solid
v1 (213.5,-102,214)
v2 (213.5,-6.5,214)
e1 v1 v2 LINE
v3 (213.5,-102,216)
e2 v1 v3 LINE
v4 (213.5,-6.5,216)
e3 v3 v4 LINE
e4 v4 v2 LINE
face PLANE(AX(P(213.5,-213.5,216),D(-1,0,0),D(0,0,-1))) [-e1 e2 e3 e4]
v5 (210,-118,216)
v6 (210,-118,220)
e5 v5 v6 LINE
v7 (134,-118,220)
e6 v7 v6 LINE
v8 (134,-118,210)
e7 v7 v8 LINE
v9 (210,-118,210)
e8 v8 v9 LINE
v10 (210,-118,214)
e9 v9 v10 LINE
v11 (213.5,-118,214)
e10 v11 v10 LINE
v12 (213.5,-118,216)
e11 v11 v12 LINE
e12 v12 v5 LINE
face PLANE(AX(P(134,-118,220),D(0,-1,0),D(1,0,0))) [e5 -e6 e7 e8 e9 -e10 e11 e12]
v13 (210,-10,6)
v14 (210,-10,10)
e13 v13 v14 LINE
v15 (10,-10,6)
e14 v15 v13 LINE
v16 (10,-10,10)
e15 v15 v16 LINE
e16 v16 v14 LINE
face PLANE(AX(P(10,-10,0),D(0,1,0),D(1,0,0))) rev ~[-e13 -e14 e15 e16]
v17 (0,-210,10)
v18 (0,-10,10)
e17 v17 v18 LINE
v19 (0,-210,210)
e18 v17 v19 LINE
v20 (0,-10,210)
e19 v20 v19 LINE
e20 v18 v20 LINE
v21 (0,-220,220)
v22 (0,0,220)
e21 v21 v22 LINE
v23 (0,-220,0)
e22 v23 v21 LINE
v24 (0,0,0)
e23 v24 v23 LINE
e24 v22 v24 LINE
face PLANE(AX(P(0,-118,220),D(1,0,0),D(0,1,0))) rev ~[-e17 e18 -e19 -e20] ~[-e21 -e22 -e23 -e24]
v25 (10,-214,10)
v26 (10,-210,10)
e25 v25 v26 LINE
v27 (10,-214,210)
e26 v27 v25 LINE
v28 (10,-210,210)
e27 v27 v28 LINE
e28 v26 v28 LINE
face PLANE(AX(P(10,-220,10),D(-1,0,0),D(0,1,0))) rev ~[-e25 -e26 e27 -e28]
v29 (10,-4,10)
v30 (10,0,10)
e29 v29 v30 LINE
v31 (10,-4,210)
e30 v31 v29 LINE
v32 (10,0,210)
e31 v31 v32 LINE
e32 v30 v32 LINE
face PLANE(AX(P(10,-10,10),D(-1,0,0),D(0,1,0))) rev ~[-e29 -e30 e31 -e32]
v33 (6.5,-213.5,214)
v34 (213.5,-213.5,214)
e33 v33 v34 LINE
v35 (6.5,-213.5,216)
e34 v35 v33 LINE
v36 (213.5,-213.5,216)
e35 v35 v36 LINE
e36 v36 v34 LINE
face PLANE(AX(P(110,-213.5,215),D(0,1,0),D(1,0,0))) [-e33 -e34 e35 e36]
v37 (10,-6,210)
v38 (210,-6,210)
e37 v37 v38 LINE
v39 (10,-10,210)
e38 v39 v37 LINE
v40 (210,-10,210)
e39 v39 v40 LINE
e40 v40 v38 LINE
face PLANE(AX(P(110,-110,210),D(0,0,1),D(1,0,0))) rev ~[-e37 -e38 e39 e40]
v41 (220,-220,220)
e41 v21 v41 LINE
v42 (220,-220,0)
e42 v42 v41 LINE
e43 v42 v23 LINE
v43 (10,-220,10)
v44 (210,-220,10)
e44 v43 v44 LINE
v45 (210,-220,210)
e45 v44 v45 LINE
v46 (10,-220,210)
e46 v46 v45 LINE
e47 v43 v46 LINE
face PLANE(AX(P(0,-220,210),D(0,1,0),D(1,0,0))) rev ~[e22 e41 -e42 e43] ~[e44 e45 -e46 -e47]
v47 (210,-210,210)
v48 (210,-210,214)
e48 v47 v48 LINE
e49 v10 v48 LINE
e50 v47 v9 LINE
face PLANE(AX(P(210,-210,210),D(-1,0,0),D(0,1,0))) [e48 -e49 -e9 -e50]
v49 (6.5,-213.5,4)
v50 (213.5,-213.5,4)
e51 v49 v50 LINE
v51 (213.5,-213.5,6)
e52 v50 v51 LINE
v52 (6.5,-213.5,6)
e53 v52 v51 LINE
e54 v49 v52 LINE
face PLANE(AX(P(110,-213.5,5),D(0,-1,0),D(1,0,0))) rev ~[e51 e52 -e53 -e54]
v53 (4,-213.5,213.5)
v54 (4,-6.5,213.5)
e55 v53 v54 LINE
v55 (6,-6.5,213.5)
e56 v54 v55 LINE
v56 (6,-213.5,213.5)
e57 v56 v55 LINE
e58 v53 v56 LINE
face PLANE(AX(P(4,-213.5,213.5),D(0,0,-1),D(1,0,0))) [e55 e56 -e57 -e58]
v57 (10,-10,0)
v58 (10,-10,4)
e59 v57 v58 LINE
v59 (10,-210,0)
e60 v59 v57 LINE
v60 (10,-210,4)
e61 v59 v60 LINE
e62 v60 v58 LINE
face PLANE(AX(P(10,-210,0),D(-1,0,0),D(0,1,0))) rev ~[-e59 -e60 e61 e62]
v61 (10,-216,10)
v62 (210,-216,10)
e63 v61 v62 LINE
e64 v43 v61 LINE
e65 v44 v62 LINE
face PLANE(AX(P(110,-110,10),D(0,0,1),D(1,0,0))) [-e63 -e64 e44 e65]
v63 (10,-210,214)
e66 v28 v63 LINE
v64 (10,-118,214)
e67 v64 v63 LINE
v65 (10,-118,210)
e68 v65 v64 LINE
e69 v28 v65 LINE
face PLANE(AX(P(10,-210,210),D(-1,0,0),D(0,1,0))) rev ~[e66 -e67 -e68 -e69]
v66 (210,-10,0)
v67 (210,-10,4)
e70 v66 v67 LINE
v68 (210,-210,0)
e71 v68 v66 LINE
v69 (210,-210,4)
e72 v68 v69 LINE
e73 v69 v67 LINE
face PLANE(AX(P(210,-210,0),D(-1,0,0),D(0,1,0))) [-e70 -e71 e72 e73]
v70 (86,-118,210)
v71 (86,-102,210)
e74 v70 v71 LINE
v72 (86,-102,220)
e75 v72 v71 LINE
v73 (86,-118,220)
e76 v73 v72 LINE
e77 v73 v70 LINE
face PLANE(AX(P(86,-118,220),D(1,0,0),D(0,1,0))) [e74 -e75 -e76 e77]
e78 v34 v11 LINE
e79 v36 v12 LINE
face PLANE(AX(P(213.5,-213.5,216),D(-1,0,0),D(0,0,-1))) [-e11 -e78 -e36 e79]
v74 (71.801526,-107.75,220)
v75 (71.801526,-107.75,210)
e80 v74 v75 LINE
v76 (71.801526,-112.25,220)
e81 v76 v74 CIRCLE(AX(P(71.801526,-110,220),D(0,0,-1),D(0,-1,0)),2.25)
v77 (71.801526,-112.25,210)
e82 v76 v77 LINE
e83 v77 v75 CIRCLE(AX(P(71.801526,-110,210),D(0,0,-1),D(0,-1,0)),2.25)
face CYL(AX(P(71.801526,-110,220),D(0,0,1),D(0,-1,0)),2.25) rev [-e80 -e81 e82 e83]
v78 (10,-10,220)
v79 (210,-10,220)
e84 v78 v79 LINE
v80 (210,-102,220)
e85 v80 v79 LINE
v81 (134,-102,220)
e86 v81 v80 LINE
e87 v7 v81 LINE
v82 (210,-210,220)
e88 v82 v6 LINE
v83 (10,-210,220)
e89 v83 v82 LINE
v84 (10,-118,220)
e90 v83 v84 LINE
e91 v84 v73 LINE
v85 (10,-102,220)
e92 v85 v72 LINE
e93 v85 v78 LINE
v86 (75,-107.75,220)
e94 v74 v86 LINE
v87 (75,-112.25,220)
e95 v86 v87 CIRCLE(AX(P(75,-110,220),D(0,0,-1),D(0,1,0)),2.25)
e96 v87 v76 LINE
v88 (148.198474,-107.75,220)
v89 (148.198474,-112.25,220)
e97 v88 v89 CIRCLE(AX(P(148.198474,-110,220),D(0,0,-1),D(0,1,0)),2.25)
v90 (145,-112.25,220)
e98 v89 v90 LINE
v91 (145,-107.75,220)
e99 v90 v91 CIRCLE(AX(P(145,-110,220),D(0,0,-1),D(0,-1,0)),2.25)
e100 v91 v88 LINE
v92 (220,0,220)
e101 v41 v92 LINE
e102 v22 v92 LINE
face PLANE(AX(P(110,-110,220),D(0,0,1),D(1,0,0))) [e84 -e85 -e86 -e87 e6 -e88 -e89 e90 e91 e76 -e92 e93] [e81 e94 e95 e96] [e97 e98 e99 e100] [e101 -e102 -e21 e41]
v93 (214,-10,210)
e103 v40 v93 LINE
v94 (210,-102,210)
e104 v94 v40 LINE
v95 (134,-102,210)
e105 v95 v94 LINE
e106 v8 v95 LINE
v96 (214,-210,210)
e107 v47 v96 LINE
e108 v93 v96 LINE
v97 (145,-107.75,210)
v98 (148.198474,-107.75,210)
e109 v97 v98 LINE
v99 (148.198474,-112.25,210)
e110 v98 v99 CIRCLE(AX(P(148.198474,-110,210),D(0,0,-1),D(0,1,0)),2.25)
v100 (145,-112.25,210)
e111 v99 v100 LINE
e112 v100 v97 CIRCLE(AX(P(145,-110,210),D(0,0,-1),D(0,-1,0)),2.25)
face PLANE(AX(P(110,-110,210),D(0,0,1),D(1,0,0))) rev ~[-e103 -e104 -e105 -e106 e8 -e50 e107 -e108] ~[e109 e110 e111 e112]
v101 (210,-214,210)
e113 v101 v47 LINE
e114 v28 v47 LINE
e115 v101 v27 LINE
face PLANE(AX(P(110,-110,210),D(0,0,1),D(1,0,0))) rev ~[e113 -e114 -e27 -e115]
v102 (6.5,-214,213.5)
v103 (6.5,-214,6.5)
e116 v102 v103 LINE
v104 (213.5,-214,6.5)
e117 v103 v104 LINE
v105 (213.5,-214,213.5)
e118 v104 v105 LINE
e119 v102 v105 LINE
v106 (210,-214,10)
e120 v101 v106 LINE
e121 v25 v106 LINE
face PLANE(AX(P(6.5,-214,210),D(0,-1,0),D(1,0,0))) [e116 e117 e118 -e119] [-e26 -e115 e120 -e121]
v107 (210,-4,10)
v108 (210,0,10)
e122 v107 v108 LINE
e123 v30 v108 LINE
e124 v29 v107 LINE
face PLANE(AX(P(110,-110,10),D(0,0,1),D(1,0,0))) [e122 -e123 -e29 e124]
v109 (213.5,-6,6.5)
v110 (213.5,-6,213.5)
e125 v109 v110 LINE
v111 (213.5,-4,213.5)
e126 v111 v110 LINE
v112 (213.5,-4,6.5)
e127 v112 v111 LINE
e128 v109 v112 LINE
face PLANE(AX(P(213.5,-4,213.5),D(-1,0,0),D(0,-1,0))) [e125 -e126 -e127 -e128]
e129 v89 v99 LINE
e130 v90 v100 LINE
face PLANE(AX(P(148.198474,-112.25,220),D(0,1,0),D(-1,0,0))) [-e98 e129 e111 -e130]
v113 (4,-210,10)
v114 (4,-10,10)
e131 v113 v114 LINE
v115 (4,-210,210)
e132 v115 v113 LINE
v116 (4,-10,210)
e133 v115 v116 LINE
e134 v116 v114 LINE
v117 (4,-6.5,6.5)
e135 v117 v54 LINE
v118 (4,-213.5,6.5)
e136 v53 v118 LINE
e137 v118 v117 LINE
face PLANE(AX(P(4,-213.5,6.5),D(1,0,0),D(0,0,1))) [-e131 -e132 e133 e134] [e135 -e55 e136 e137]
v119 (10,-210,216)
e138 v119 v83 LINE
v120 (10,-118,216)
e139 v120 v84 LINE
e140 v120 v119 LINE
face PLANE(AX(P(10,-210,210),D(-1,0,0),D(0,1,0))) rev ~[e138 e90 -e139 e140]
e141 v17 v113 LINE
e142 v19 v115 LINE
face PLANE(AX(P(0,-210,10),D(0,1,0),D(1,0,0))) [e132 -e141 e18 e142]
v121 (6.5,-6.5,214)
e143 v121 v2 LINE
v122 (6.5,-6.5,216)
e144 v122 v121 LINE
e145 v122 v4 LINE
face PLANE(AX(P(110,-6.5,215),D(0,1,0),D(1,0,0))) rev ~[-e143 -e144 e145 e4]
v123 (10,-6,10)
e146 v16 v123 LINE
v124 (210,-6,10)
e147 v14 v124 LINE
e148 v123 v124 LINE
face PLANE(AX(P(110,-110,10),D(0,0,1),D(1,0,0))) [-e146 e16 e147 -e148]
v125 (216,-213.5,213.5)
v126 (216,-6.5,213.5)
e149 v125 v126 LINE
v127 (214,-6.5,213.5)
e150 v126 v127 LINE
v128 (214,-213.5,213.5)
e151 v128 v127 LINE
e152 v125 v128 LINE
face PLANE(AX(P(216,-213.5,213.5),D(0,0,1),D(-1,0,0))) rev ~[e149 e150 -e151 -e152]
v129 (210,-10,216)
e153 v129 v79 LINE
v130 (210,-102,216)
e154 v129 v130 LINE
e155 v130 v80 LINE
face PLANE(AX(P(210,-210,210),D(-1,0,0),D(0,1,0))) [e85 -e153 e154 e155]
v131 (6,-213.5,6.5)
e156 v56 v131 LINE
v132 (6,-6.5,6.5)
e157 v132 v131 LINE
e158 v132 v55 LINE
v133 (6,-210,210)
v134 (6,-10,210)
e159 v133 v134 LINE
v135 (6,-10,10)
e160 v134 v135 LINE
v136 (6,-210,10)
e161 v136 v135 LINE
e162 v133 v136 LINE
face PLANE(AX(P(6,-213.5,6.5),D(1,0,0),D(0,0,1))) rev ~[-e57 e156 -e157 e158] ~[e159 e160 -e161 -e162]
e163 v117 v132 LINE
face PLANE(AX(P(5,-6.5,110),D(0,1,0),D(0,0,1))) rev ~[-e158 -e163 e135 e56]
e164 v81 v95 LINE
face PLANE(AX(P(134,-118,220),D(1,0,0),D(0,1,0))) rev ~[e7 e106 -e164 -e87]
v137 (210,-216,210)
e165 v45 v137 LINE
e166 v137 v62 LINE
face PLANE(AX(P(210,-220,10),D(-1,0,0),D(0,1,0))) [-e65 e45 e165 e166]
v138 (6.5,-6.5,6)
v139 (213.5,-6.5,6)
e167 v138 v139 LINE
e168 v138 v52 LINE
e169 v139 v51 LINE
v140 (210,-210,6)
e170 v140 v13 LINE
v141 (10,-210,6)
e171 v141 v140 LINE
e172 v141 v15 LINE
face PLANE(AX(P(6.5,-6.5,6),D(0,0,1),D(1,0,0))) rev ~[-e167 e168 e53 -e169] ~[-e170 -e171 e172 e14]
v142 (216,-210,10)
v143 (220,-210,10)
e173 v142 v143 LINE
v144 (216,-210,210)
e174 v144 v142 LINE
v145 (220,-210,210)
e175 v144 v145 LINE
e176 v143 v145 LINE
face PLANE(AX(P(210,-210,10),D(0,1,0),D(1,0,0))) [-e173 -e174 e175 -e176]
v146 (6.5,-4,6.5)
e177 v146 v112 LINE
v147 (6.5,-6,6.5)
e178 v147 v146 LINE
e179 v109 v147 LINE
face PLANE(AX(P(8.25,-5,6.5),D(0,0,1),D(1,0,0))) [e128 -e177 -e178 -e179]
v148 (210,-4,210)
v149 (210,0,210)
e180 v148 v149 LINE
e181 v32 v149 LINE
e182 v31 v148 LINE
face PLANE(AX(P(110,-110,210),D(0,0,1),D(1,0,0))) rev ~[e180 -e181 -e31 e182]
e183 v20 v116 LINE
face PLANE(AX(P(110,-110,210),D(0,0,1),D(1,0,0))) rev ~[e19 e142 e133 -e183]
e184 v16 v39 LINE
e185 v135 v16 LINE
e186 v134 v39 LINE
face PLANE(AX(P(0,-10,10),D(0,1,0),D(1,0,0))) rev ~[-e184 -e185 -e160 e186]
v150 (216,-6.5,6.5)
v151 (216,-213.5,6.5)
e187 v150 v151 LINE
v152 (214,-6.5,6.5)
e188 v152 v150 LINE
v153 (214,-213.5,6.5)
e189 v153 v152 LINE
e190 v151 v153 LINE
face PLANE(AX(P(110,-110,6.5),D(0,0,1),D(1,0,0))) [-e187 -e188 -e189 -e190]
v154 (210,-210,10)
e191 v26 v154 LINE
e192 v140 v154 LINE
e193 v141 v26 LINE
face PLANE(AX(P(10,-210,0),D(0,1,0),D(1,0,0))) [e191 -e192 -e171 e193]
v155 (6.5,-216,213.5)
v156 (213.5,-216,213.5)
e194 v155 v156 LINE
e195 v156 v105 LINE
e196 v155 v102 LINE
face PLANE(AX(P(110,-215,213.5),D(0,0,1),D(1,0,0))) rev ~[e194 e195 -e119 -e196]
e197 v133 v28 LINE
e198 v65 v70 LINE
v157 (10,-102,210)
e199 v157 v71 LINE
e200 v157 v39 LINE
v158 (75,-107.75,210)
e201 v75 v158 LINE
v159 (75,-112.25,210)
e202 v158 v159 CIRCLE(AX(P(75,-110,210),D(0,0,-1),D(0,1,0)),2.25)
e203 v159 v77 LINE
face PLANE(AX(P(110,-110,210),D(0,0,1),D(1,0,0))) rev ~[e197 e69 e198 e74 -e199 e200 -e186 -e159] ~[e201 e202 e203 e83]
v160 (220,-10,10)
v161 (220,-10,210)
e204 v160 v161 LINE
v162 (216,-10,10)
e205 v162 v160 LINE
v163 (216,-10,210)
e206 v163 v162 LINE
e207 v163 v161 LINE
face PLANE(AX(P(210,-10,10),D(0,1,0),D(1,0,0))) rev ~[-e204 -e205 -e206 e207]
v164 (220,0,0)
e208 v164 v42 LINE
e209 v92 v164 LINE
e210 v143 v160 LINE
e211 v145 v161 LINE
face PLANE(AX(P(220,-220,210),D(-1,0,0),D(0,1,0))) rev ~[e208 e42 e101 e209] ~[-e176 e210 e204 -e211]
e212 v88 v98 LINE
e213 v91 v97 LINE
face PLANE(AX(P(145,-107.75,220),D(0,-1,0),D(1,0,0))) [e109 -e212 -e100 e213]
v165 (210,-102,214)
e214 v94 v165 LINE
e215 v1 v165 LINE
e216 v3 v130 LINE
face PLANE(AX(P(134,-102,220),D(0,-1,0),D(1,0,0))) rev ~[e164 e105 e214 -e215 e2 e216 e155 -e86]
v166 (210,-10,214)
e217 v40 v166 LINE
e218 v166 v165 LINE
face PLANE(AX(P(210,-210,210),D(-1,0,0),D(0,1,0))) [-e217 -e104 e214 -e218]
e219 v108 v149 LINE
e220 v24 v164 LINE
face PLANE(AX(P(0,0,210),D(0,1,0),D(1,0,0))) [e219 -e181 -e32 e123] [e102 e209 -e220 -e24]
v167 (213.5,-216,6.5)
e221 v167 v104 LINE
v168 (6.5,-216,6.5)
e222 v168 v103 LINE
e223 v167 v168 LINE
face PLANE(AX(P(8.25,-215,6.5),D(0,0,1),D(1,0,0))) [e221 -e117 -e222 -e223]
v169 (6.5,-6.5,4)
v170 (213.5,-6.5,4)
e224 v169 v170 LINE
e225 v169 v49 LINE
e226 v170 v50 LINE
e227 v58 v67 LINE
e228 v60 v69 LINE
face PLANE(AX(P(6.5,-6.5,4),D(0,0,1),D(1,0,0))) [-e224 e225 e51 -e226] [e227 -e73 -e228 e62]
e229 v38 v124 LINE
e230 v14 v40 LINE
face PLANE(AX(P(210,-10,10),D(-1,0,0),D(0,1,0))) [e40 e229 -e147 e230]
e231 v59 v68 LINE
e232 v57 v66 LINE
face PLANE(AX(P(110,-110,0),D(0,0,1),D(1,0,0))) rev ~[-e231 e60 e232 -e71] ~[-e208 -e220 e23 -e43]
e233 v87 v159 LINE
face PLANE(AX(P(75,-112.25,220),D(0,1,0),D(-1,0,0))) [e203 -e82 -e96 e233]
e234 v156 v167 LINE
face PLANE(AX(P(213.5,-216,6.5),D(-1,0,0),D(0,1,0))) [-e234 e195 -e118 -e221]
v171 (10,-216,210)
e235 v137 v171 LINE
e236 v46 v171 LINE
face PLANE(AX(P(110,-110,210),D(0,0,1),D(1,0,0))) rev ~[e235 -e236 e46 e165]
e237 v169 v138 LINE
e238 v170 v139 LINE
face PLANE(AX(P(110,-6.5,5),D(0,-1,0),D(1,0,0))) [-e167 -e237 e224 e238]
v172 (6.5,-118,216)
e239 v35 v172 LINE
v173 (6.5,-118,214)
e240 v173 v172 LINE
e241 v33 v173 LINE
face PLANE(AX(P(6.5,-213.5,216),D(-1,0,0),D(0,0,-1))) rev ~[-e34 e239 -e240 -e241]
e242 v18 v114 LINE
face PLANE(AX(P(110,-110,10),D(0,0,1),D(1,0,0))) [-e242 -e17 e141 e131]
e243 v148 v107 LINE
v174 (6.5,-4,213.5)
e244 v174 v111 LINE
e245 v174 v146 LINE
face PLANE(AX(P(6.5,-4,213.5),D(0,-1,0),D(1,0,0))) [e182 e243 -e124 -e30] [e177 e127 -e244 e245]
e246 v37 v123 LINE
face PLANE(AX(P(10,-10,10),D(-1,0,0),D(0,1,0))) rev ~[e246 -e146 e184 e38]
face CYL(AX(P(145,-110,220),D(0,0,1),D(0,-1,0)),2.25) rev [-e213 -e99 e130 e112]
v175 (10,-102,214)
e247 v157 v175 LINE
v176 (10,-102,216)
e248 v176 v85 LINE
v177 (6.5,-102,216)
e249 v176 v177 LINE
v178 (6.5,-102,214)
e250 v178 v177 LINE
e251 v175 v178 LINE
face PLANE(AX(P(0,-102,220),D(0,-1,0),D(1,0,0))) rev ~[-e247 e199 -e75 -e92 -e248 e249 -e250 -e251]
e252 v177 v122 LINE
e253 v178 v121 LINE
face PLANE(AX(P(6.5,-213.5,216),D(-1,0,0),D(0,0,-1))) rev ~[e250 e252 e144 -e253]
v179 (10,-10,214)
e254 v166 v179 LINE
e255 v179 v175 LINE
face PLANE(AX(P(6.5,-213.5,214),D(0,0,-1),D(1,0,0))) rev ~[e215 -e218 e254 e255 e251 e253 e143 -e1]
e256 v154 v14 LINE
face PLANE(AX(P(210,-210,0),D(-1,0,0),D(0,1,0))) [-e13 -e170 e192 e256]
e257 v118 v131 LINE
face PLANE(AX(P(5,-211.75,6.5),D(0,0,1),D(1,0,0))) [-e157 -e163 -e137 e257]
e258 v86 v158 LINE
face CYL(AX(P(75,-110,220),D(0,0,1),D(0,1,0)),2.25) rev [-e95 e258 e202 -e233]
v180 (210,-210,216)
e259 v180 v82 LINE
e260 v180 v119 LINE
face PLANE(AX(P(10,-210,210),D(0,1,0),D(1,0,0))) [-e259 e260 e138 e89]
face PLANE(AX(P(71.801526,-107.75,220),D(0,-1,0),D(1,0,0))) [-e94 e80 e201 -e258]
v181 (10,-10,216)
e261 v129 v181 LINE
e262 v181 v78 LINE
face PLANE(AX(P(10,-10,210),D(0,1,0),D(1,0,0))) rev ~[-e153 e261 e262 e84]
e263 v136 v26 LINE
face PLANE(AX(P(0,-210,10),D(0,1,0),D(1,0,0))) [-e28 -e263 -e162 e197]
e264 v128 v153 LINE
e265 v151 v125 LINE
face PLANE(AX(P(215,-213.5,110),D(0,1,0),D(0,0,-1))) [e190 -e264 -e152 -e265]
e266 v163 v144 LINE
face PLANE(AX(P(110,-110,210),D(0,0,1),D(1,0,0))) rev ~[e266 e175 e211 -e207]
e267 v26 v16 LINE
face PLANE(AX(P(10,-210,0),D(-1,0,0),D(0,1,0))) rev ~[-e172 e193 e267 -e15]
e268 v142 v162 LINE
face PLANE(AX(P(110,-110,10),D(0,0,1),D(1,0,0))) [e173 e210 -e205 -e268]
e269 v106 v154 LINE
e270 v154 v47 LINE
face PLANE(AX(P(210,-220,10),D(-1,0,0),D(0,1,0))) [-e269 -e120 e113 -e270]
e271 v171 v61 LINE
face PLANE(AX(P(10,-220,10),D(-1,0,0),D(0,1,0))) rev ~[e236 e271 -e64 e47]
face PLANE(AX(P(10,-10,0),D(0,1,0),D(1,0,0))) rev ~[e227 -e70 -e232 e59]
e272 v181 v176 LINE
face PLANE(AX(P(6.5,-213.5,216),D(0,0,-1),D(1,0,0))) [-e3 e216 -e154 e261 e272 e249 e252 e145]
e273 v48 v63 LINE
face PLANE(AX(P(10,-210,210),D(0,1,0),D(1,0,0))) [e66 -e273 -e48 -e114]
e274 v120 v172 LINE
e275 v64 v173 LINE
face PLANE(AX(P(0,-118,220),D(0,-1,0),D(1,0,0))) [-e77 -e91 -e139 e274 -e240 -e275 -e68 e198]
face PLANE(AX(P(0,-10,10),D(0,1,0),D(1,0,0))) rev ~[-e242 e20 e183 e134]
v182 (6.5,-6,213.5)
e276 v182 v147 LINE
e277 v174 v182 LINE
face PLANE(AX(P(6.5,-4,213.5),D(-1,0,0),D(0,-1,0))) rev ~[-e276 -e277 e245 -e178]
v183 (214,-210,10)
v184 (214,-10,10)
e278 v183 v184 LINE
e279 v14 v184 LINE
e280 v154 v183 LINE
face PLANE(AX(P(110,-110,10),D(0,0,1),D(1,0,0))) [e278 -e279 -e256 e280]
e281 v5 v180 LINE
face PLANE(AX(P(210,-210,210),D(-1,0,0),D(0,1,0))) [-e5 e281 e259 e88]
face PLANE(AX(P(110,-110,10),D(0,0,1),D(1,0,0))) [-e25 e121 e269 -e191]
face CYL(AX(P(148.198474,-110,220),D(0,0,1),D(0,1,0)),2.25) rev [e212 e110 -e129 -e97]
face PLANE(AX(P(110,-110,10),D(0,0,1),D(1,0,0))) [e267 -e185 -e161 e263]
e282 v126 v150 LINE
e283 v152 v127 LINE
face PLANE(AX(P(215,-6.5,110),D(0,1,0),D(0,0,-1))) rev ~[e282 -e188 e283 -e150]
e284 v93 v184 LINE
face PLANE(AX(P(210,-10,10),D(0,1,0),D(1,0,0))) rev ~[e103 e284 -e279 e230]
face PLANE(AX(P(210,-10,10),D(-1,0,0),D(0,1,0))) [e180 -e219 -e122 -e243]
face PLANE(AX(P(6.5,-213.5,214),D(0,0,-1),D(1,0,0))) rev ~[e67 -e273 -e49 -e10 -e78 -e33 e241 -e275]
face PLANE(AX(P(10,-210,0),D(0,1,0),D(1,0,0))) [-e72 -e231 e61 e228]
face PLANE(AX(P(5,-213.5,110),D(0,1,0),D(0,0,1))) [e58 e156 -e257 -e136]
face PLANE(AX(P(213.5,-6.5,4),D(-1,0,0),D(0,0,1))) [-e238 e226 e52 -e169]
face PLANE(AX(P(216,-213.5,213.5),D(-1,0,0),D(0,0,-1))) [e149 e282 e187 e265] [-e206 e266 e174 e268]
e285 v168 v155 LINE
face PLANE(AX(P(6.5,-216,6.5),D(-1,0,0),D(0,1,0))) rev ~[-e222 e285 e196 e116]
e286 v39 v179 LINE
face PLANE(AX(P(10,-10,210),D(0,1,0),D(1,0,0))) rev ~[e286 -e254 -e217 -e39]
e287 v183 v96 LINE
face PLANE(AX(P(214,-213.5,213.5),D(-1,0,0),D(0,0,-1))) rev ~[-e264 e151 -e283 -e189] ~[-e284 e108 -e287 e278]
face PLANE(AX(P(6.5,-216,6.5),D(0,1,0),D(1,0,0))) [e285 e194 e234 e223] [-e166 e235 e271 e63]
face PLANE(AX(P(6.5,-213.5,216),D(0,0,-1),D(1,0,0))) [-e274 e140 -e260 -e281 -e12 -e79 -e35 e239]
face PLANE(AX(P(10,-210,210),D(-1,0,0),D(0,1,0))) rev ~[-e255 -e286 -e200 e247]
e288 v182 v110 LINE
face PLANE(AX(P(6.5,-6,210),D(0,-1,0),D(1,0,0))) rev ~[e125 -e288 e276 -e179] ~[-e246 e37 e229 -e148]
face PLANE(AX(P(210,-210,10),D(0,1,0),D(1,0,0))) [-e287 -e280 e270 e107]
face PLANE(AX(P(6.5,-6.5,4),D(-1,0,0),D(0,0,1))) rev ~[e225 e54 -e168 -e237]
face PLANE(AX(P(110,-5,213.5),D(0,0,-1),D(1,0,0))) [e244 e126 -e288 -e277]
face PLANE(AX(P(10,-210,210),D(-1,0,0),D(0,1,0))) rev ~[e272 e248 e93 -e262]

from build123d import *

# Parameters (mm, degrees)
CROQUIS2_W                   = 220
CROQUIS2_H                   = 220
CROQUIS2_W_2                 = 200
CROQUIS2_H_2                 = 200
SALIENTE_EXTRUIR1_DEPTH      = 10
CROQUIS3_W                   = 212
CROQUIS3_H                   = 212
CROQUIS3_W_2                 = 210
CROQUIS3_H_2                 = 210
CROQUIS3_W_3                 = 208
CROQUIS3_H_3                 = 208
CORTAR_EXTRUIR1_DEPTH        = 3.5
CROQUIS4_W                   = 10
CROQUIS4_H                   = 10
SALIENTE_EXTRUIR2_DEPTH      = 200
SALIENTE_EXTRUIR2_DEPTH_BACK = 10
CROQUIS6_W                   = 3.5
CROQUIS6_H                   = 2
CROQUIS6_W_2                 = 2
CROQUIS6_H_2                 = 3.5
CROQUIS6_W_3                 = 1.99805467
CORTAR_EXTRUIR2_DEPTH        = 203.5
CROQUIS7_W                   = 220
CROQUIS7_H                   = 220
CROQUIS7_W_2                 = 200
CROQUIS7_H_2                 = 200
SALIENTE_EXTRUIR3_DEPTH      = 10
CORTAR_EXTRUIR3_START        = -3.5
CROQUIS8_W                   = 207
CROQUIS8_H                   = 2
CORTAR_EXTRUIR3_DEPTH        = 207
MATRIZC1_COUNT               = 4
CROQUIS9_W                   = 86
CROQUIS9_H                   = 16
BRAZOS_DEPTH                 = 10
MATRIZC2_COUNT               = 4


with BuildPart() as part:
    # Croquis2 → Saliente-Extruir1 (new body)
    with BuildSketch(Plane.XY):
        with Locations((110, -110)):
            Rectangle(CROQUIS2_W, CROQUIS2_H)
        with Locations((110, -110)):
            Rectangle(CROQUIS2_W_2, CROQUIS2_H_2, mode=Mode.SUBTRACT)
    extrude(amount=SALIENTE_EXTRUIR1_DEPTH)

    # Croquis3 → Cortar-Extruir1 (cut)
    with BuildSketch(Plane.XY.offset(10)):
        with Locations((110, -110)):
            Rectangle(CROQUIS3_W, CROQUIS3_H)
        with Locations((110, -110)):
            Rectangle(CROQUIS3_W_2, CROQUIS3_H_2, mode=Mode.SUBTRACT)
        with Locations((110, -110)):
            Rectangle(CROQUIS3_W_2, CROQUIS3_H_2)
        with Locations((110, -110)):
            Rectangle(CROQUIS3_W_3, CROQUIS3_H_3, mode=Mode.SUBTRACT)
    extrude(amount=-CORTAR_EXTRUIR1_DEPTH, mode=Mode.SUBTRACT)

    # Croquis4 → Saliente-Extruir2 (add, two sides)
    with BuildSketch(Plane.XY.offset(10)) as saliente_extruir2_sk:
        with Locations((5, -5)):
            Rectangle(CROQUIS4_W, CROQUIS4_H)
        with Locations((215, -5)):
            Rectangle(CROQUIS4_W, CROQUIS4_H)
        with Locations((215, -215)):
            Rectangle(CROQUIS4_W, CROQUIS4_H)
        with Locations((5, -215)):
            Rectangle(CROQUIS4_W, CROQUIS4_H)
    extrude(amount=SALIENTE_EXTRUIR2_DEPTH)
    extrude(saliente_extruir2_sk.sketch, amount=-SALIENTE_EXTRUIR2_DEPTH_BACK)

    # Croquis6 → Cortar-Extruir2 (cut)
    with BuildSketch(Plane.XY.offset(210)):
        with Locations((8.25, -5)):
            Rectangle(CROQUIS6_W, CROQUIS6_H)
        with Locations((5, -8.25)):
            Rectangle(CROQUIS6_W_2, CROQUIS6_H_2)
        with Locations((211.75, -5)):
            Rectangle(CROQUIS6_W, CROQUIS6_H)
        with Locations((215, -8.25)):
            Rectangle(CROQUIS6_W_2, CROQUIS6_H_2)
        with Locations((211.75, -215)):
            Rectangle(CROQUIS6_W, CROQUIS6_H)
        with Locations((215.000972665, -211.75)):
            Rectangle(CROQUIS6_W_3, CROQUIS6_H_2)
        with Locations((5, -211.75)):
            Rectangle(CROQUIS6_W_2, CROQUIS6_H_2)
        with Locations((8.25, -215)):
            Rectangle(CROQUIS6_W, CROQUIS6_H)
    extrude(amount=-CORTAR_EXTRUIR2_DEPTH, mode=Mode.SUBTRACT)

    # Croquis7 → Saliente-Extruir3 (add)
    with BuildSketch(Plane.XY.offset(210)):
        with Locations((110, -110)):
            Rectangle(CROQUIS7_W, CROQUIS7_H)
        with Locations((110, -110)):
            Rectangle(CROQUIS7_W_2, CROQUIS7_H_2, mode=Mode.SUBTRACT)
    extrude(amount=SALIENTE_EXTRUIR3_DEPTH)

    # Croquis8 → Cortar-Extruir3 (cut)
    with BuildSketch(Plane(origin=(0, -210, 0), x_dir=(1, 0, 0), z_dir=(0, 1, 0)).offset(CORTAR_EXTRUIR3_START)):
        with Locations((110, -215)):
            Rectangle(CROQUIS8_W, CROQUIS8_H)
    cortar_extruir3 = extrude(amount=CORTAR_EXTRUIR3_DEPTH, mode=Mode.SUBTRACT)

    # MatrizC1: Cortar-Extruir3 ×4 about axis
    matrizc1_axis = Axis((0, -110, 110), (1, 0, 0))
    for i in range(1, MATRIZC1_COUNT):
        add(cortar_extruir3.rotate(matrizc1_axis, i * 360 / MATRIZC1_COUNT), mode=Mode.SUBTRACT)

    # Croquis9 → Brazos (add)
    with BuildSketch(Plane.XY.offset(220)):
        with Locations((43, -110)):
            Rectangle(CROQUIS9_W, CROQUIS9_H)
        with BuildLine():
            ThreePointArc((71.801526277, -112.25), (69.551526277, -110), (71.801526277, -107.75))
            Line((71.801526277, -107.75), (75, -107.75))
            ThreePointArc((75, -107.75), (77.25, -110), (75, -112.25))
            Line((75, -112.25), (71.801526277, -112.25))
        make_face(mode=Mode.SUBTRACT)
        with Locations((177, -110)):
            Rectangle(CROQUIS9_W, CROQUIS9_H)
        with BuildLine():
            Line((145, -107.75), (148.198473723, -107.75))
            ThreePointArc((148.198473723, -107.75), (150.448473723, -110), (148.198473723, -112.25))
            Line((148.198473723, -112.25), (145, -112.25))
            ThreePointArc((145, -112.25), (142.75, -110), (145, -107.75))
        make_face(mode=Mode.SUBTRACT)
    extrude(amount=-BRAZOS_DEPTH)

    # MatrizC2: Cortar-Extruir3 ×4 about axis
    matrizc2_axis = Axis((110, 11, 110), (0, -1, 0))
    for i in range(1, MATRIZC2_COUNT):
        add(cortar_extruir3.rotate(matrizc2_axis, i * 360 / MATRIZC2_COUNT), mode=Mode.SUBTRACT)


solid = part.part
